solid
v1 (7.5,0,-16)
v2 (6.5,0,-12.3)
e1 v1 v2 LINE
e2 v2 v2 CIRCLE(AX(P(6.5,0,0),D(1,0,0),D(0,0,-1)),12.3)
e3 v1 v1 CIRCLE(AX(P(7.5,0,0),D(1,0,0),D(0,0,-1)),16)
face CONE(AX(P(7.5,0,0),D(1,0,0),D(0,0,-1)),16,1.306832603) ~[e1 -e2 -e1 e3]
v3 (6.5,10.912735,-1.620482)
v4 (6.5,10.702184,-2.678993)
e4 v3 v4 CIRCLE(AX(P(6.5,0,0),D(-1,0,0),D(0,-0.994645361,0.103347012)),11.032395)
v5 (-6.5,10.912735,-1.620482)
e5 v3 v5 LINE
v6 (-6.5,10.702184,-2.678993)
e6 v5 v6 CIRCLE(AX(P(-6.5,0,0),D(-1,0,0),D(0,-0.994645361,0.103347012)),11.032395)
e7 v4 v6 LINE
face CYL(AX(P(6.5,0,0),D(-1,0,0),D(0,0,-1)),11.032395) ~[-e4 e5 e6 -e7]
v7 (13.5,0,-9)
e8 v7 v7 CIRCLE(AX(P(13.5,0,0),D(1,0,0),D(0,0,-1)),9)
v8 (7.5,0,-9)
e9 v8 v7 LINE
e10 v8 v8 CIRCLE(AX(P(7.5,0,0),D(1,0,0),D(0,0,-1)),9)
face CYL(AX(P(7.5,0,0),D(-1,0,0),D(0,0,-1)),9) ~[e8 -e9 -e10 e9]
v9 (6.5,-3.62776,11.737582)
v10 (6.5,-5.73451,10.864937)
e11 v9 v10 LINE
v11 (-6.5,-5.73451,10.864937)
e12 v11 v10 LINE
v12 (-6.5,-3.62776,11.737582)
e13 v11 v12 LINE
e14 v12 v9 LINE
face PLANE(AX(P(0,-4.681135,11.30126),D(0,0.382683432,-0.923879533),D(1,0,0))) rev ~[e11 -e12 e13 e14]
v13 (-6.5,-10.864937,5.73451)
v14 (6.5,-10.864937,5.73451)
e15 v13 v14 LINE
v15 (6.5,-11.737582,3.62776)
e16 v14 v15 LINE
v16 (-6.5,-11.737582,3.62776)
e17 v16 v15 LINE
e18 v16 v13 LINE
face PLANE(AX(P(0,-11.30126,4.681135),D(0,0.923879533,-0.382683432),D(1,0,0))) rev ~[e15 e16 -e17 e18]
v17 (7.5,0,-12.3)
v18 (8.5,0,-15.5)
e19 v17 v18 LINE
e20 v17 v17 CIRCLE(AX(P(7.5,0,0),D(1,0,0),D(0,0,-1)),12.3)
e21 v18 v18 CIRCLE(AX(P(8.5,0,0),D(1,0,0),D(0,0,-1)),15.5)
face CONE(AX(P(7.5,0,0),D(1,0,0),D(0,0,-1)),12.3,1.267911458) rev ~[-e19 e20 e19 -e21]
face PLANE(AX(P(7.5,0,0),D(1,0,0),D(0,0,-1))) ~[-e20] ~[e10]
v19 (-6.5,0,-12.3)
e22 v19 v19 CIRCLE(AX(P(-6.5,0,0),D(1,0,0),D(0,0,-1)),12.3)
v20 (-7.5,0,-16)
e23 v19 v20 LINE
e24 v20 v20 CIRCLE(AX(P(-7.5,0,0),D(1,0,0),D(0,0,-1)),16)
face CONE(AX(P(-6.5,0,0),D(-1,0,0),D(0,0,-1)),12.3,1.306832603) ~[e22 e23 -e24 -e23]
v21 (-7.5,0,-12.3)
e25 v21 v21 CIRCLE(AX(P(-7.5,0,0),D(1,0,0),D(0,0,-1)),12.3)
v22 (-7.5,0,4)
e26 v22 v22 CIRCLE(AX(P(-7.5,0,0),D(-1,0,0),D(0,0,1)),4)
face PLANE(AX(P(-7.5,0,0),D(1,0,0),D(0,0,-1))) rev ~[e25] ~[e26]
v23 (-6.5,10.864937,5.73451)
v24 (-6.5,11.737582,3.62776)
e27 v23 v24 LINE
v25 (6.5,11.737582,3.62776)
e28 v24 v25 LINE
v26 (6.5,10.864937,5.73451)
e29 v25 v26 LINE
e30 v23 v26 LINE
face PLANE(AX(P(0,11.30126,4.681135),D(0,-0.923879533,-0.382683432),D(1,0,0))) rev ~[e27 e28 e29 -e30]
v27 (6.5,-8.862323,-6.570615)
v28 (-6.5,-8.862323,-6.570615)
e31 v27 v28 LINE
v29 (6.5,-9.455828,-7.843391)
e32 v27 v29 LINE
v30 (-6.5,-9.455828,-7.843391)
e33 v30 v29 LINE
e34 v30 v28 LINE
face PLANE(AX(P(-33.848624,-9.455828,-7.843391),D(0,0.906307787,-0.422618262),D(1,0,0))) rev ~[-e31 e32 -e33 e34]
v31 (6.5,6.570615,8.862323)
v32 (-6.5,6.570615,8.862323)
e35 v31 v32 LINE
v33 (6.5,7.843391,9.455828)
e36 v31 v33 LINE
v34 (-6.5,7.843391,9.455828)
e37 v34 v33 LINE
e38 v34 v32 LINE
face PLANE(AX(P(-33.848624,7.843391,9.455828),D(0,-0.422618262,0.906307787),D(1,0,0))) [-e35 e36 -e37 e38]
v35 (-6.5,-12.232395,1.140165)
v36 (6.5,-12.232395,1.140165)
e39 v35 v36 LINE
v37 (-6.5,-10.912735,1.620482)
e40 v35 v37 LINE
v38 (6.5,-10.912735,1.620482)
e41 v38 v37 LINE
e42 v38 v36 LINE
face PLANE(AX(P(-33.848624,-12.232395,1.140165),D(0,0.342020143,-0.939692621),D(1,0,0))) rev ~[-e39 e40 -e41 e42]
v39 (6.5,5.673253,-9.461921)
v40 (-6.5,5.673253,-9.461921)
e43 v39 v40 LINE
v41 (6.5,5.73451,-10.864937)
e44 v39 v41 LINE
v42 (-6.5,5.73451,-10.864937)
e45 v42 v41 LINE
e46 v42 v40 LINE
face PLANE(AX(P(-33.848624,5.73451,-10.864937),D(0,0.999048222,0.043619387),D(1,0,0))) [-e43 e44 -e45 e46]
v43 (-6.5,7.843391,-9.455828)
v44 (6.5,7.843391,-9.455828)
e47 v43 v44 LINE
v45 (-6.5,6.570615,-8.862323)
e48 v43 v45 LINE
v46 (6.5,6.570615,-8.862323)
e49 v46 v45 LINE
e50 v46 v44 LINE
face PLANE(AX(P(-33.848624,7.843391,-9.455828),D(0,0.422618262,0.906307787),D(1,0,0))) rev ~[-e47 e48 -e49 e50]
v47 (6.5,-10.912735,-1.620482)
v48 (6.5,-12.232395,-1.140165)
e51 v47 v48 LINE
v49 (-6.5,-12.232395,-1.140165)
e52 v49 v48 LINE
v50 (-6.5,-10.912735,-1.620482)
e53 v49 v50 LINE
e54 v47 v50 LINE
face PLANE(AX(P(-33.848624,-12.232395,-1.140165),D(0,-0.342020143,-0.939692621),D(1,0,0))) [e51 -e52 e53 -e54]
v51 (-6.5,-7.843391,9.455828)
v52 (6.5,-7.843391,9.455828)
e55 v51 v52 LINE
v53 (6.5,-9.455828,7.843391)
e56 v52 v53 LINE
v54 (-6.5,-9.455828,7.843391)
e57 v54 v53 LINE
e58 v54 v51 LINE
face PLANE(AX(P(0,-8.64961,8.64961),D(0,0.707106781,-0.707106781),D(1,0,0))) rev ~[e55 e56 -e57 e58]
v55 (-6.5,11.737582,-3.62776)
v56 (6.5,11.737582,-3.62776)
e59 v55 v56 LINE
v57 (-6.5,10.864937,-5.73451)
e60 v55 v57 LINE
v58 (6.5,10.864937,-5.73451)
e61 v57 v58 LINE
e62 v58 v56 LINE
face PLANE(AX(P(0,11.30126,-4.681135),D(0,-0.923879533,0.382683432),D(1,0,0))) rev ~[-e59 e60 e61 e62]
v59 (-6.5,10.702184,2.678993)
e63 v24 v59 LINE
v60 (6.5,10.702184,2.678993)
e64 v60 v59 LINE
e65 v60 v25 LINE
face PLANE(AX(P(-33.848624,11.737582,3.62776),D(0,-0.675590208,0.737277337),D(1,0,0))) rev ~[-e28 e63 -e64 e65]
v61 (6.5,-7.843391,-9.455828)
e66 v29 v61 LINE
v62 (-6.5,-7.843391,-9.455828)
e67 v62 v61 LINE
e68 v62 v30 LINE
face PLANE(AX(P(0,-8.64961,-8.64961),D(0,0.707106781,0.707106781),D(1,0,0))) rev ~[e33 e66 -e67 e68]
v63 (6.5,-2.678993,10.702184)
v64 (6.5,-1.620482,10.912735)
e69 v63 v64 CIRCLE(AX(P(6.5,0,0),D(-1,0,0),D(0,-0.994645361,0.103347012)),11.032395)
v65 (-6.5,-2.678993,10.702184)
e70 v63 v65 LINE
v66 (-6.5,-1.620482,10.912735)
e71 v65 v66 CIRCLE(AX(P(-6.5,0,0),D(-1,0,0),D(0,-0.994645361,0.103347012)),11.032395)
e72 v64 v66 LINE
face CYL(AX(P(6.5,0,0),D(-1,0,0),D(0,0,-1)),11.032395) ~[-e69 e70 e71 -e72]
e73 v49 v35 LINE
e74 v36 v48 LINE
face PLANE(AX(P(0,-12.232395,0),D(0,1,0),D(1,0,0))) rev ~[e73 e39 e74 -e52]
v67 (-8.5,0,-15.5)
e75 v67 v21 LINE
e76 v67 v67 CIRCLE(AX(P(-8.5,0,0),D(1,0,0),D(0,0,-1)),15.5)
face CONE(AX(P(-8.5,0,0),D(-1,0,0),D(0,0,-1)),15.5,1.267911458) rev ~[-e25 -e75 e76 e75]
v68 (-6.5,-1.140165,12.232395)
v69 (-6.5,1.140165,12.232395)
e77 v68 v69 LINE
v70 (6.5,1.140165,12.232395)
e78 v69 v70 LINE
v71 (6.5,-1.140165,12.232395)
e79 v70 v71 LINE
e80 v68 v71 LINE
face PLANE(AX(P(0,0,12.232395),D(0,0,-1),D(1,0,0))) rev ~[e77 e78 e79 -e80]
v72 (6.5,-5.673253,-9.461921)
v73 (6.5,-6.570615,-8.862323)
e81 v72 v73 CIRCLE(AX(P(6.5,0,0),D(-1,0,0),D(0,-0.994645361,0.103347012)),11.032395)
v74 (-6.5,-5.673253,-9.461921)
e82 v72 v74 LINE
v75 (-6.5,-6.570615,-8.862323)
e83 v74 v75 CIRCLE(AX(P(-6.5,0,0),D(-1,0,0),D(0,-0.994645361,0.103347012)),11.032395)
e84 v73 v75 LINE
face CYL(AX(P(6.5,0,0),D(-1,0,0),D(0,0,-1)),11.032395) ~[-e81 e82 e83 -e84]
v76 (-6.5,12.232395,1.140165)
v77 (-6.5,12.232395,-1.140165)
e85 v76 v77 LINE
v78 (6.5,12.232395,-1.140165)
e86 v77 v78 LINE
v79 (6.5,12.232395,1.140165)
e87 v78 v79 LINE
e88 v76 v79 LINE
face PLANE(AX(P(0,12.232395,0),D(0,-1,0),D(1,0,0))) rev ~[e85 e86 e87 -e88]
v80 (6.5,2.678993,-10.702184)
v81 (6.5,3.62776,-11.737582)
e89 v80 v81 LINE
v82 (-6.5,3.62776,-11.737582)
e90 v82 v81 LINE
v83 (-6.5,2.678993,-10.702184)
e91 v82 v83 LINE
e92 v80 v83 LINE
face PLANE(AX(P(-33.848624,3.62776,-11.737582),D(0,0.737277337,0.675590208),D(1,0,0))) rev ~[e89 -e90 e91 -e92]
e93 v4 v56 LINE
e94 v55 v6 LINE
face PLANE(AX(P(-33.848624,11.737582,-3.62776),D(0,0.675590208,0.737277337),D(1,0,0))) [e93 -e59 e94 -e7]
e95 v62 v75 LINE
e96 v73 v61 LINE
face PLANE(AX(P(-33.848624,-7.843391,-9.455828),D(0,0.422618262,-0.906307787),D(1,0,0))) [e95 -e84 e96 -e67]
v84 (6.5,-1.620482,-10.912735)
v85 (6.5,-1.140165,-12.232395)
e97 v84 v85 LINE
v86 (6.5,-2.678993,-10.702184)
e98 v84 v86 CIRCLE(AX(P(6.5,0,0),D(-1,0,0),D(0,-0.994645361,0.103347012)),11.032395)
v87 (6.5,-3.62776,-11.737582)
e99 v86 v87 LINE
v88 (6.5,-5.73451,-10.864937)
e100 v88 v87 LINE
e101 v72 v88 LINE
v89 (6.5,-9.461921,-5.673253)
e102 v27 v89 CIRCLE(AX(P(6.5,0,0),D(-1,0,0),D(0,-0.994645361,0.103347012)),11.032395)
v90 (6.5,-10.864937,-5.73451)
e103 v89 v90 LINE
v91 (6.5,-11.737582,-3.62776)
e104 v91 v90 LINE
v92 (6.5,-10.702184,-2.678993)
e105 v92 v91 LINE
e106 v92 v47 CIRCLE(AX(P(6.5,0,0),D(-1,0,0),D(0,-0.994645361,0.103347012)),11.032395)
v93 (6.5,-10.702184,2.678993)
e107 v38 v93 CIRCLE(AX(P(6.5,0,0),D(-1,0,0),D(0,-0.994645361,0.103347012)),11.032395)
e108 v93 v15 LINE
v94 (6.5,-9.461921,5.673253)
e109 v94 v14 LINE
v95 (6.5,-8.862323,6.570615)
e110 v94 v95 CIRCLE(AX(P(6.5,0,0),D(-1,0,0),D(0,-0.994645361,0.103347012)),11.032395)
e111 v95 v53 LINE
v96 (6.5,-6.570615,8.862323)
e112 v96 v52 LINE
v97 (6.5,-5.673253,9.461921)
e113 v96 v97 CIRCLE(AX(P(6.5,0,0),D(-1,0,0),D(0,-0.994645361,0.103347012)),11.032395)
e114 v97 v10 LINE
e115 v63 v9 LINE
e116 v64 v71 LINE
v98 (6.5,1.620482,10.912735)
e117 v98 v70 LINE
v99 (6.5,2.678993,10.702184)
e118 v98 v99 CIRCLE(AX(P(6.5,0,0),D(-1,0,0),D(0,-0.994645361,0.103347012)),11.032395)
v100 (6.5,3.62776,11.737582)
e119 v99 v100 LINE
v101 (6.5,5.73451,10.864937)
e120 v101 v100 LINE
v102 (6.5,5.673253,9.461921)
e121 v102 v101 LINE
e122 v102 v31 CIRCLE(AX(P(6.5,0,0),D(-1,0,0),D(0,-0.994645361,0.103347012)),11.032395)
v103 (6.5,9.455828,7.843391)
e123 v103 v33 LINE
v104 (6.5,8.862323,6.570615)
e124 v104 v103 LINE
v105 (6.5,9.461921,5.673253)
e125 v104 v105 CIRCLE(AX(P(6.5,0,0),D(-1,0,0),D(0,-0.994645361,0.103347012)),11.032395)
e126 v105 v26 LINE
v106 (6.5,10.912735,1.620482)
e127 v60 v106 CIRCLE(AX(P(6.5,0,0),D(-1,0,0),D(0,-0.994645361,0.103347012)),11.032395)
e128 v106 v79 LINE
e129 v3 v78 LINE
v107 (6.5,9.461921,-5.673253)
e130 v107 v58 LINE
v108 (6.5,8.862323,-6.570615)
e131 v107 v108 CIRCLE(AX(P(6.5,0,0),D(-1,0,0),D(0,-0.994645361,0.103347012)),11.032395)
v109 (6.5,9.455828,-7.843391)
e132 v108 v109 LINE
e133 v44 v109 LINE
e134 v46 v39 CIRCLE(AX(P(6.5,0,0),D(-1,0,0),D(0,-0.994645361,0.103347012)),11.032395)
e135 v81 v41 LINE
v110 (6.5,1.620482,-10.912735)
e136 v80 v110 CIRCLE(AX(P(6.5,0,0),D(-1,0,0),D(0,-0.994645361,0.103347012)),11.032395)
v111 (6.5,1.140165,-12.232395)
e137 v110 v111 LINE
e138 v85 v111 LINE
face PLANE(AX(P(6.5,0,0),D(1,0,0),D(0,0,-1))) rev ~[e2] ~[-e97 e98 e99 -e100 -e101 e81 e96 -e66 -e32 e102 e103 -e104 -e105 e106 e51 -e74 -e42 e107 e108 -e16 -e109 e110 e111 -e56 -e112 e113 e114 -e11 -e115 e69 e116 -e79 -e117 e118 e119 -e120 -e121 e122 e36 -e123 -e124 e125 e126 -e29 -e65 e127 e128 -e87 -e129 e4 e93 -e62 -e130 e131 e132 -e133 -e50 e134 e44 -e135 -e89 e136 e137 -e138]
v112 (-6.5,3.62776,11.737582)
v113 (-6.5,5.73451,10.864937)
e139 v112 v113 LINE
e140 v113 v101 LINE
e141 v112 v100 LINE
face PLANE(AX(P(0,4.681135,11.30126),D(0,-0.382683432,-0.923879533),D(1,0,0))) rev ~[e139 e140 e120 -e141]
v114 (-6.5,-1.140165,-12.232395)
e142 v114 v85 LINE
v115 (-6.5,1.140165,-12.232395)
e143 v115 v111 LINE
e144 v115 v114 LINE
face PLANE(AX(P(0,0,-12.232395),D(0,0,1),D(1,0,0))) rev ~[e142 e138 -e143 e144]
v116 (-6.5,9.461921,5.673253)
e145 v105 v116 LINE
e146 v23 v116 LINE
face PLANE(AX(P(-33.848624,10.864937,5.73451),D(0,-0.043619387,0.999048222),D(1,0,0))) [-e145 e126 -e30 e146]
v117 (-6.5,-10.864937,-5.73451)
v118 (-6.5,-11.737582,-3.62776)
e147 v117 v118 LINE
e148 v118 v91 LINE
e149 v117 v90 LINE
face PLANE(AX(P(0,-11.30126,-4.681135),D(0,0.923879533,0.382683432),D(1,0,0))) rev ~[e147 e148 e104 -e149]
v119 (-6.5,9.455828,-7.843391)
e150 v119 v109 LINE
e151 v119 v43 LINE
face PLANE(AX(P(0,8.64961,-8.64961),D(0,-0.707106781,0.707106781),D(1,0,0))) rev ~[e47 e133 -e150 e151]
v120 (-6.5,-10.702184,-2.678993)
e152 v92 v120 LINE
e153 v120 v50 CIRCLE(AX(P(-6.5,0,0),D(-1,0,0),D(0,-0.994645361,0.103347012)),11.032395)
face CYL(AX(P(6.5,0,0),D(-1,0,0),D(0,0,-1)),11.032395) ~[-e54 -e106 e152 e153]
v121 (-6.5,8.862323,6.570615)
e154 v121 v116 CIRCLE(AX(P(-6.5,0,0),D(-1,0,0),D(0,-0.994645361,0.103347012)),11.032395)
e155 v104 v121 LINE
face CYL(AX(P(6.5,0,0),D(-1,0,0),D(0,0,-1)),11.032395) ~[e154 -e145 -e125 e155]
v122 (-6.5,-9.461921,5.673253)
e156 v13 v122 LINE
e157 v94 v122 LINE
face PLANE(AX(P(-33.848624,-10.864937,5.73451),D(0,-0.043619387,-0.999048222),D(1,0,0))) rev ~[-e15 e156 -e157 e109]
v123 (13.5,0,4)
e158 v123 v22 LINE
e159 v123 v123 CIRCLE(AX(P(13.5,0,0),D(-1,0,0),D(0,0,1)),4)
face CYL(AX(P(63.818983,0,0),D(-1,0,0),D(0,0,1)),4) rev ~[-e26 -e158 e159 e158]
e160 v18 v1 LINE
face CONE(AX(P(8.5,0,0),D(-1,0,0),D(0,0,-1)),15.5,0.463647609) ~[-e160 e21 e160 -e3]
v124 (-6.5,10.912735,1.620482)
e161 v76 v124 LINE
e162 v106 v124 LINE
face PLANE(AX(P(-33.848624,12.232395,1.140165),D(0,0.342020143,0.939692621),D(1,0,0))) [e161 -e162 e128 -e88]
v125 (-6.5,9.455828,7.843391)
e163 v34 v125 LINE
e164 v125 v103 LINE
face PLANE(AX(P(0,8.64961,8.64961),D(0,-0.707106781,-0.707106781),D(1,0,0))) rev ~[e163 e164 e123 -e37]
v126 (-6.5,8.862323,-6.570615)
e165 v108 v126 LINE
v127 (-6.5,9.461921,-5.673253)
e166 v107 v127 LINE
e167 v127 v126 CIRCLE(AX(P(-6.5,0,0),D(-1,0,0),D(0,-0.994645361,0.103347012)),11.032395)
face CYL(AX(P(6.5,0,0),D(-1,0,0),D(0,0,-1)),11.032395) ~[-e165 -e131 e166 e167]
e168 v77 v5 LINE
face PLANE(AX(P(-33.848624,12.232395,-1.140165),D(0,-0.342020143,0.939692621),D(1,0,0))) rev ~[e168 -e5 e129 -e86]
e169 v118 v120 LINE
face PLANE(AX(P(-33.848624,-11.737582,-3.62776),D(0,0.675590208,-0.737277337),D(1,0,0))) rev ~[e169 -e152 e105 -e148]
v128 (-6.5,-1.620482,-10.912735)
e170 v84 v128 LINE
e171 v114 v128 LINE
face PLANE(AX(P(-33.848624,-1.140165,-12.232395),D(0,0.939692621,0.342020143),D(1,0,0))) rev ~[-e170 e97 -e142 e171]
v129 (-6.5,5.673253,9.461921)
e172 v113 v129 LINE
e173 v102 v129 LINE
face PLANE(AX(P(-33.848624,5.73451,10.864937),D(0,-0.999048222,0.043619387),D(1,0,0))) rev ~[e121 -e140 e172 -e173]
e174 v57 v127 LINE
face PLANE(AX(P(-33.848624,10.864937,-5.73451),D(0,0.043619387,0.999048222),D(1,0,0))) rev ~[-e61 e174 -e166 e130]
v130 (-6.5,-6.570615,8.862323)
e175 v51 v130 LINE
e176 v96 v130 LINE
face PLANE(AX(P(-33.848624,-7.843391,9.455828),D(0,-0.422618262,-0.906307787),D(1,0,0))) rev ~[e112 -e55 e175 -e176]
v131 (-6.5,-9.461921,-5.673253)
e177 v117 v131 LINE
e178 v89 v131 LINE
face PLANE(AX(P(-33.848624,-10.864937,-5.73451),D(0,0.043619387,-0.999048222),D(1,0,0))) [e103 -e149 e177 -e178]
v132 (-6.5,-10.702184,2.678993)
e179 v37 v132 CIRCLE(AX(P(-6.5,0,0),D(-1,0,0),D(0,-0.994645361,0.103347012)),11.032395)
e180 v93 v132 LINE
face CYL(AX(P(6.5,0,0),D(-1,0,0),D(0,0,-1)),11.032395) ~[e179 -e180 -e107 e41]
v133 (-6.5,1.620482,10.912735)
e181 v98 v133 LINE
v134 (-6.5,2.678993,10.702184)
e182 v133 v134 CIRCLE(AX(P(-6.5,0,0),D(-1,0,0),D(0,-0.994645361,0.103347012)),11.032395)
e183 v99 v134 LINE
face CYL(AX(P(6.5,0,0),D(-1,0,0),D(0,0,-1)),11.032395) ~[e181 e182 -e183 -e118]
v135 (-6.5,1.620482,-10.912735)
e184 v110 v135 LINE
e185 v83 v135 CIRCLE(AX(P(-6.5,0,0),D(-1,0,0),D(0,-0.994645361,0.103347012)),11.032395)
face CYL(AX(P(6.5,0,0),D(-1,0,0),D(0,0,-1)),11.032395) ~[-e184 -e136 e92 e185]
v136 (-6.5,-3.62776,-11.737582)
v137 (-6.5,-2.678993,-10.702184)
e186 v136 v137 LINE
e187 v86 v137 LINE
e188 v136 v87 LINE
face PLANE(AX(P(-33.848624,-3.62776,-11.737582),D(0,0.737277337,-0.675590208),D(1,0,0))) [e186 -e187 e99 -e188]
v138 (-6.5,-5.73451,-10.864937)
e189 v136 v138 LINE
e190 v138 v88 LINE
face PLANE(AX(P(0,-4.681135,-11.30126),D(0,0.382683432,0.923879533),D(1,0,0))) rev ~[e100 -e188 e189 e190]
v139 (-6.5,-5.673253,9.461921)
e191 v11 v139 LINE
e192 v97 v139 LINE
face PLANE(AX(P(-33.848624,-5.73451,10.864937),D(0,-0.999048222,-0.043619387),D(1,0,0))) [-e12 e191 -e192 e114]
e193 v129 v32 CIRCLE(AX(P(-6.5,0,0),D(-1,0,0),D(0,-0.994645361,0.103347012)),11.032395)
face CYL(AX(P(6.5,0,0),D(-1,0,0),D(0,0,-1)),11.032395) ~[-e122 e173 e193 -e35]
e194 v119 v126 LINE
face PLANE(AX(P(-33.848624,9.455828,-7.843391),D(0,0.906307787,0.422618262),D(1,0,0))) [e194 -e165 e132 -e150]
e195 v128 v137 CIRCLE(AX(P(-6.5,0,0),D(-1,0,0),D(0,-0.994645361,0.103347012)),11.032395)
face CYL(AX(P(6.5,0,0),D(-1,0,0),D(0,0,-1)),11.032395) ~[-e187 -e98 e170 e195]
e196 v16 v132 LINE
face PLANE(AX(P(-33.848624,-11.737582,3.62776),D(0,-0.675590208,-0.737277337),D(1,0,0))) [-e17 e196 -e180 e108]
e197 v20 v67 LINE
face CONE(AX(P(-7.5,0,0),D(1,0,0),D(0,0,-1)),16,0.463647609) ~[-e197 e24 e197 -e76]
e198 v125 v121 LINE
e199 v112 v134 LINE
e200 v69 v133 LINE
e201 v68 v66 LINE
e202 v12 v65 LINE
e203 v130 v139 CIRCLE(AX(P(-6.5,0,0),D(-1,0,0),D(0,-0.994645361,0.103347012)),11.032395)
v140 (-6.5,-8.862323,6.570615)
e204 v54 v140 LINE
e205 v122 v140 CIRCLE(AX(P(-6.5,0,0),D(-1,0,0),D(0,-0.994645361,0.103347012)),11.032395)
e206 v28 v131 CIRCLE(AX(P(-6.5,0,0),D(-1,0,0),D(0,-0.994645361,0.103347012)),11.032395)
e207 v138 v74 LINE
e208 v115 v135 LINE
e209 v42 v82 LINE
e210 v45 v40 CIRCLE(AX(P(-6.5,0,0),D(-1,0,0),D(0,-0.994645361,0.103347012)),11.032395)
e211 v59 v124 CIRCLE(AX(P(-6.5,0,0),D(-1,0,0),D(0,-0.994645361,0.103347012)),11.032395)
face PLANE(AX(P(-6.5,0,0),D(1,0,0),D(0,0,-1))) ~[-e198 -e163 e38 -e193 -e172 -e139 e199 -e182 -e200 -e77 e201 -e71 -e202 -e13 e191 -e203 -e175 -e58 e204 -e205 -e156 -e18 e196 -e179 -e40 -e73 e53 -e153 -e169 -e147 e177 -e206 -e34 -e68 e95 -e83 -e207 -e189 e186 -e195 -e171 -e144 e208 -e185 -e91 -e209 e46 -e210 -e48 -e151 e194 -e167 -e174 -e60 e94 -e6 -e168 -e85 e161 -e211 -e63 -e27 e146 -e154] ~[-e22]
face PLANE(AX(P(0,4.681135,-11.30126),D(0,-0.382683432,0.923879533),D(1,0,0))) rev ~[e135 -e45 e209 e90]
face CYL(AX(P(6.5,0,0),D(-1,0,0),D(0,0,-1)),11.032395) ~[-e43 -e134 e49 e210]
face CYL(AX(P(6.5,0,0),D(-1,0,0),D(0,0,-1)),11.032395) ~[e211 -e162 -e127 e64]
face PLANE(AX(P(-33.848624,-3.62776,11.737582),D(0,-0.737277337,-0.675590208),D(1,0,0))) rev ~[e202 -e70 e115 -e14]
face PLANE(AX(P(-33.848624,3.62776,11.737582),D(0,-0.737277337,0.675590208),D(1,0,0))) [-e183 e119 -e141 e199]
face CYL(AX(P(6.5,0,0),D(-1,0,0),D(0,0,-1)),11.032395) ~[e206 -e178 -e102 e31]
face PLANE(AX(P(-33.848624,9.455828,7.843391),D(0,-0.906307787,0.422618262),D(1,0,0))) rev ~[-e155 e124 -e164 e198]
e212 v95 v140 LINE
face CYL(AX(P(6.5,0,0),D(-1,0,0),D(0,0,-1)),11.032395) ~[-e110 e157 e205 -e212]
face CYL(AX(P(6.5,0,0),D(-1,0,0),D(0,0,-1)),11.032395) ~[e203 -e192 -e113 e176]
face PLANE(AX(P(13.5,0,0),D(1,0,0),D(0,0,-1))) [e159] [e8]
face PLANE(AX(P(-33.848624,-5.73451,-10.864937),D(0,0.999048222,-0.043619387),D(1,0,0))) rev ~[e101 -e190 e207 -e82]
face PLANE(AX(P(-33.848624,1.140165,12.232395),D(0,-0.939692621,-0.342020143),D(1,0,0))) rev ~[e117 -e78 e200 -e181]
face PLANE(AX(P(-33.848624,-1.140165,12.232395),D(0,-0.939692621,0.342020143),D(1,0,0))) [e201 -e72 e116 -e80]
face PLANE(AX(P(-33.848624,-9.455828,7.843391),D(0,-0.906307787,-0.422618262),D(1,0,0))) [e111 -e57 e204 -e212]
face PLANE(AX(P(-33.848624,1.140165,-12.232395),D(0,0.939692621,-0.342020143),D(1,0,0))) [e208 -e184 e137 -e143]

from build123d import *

# Parameters (mm, degrees)
SKETCH2_R                = 9
BOSS_EXTRUDE1_DEPTH      = 6
F_6_0_6_DIAMETER_HOLE1_D = 8
RIB1_REACH               = 28.349
SKETCH5_WALL_W           = 67.697248506
SKETCH5_WALL_H           = 2.28033022
RIB1_DRAFT_ANGLE         = 20
RIB2_REACH               = 28.349
SKETCH6_WALL_W           = 67.697248506
SKETCH6_WALL_H           = 2.28033022
RIB2_DRAFT_ANGLE         = 20
RIB3_REACH               = 28.349
SKETCH7_WALL_W           = 67.697248506
SKETCH7_WALL_H           = 2.28033022
RIB3_DRAFT_ANGLE         = 20
RIB4_REACH               = 28.349
SKETCH8_WALL_W           = 67.697248506
SKETCH8_WALL_H           = 2.28033022
RIB4_DRAFT_ANGLE         = 20
RIB5_REACH               = 28.349
SKETCH9_WALL_W           = 67.697248506
SKETCH9_WALL_H           = 2.28033022
RIB5_DRAFT_ANGLE         = 20
RIB6_REACH               = 28.349
SKETCH10_WALL_W          = 67.697248506
SKETCH10_WALL_H          = 2.28033022
RIB6_DRAFT_ANGLE         = 20
RIB7_REACH               = 28.349
SKETCH11_WALL_W          = 67.697248506
SKETCH11_WALL_H          = 2.28033022
RIB7_DRAFT_ANGLE         = 20
RIB8_REACH               = 28.349
SKETCH12_WALL_W          = 67.697248506
SKETCH12_WALL_H          = 2.28033022
RIB8_DRAFT_ANGLE         = 20
RIB9_REACH               = 28.349
SKETCH13_WALL_W          = 67.697248506
SKETCH13_WALL_H          = 2.28033022
RIB9_DRAFT_ANGLE         = 20
RIB10_REACH              = 28.349
SKETCH14_WALL_W          = 67.697248506
SKETCH14_WALL_H          = 2.28033022
RIB10_DRAFT_ANGLE        = 20
RIB11_REACH              = 28.349
SKETCH15_WALL_W          = 67.697248506
SKETCH15_WALL_H          = 2.28033022
RIB11_DRAFT_ANGLE        = 20
RIB12_REACH              = 28.349
SKETCH16_WALL_W          = 67.697248506
SKETCH16_WALL_H          = 2.28033022
RIB12_DRAFT_ANGLE        = 20
RIB13_REACH              = 28.349
SKETCH17_WALL_W          = 67.697248506
SKETCH17_WALL_H          = 2.28033022
RIB13_DRAFT_ANGLE        = 20
RIB14_REACH              = 28.349
SKETCH18_WALL_W          = 67.697248506
SKETCH18_WALL_H          = 2.28033022
RIB14_DRAFT_ANGLE        = 20
RIB15_REACH              = 28.349
SKETCH19_WALL_W          = 67.697248506
SKETCH19_WALL_H          = 2.28033022
RIB15_DRAFT_ANGLE        = 20
RIB16_REACH              = 28.349
SKETCH20_WALL_W          = 67.697248506
SKETCH20_WALL_H          = 2.28033022
RIB16_DRAFT_ANGLE        = 20


with BuildPart() as part:
    # Sketch1 → Revolve1 (revolve)
    with BuildSketch(Plane.XY, mode=Mode.PRIVATE) as revolve1_sk:
        Polygon((-7.5, 12.3), (-7.5, 0), (7.5, 0), (7.5, 12.3), (8.5, 15.5), (7.5, 16), (6.5, 12.3), (6.5, 11.032395447), (-6.5, 11.032395447), (-6.5, 12.3), (-7.5, 16), (-8.5, 15.5), align=None)
    revolve(revolve1_sk.sketch.rotate(Axis((-8.5, 0, 0), (1, 0, 0)), 270), axis=Axis((-8.5, 0, 0), (1, 0, 0)))

    # Sketch2 → Boss-Extrude1 (add)
    with BuildSketch(Plane(origin=(7.5, 0, 0), x_dir=(0, 0, -1), z_dir=(1, 0, 0))):
        Circle(SKETCH2_R)
    extrude(amount=BOSS_EXTRUDE1_DEPTH)

    # Ø6.0 (6) Diameter Hole1 (through all)
    with Locations(Plane(origin=(13.5, 0, 0), x_dir=(0, 0, -1), z_dir=(1, 0, 0))):
        with Locations((0, 0)):
            Hole(F_6_0_6_DIAMETER_HOLE1_D / 2)

    # Sketch5 wall → Rib1 (add, up to next)
    with BuildSketch(Plane(origin=(0, -12.232395447, 0), x_dir=(1, 0, 0), z_dir=(0, 1, 0)), mode=Mode.PRIVATE) as rib1_sk1:
        Rectangle(SKETCH5_WALL_W, SKETCH5_WALL_H)
    rib1_tool1 = extrude(rib1_sk1.sketch, amount=RIB1_REACH, mode=Mode.PRIVATE) - part.part
    add(rib1_tool1.solids().sort_by_distance((0, -12.232395447, 0))[0])

    # Rib1 draft
    rib1_draft_faces = [part.faces().sort_by_distance(p)[0] for p in [
        (0, -11.732395447, -1.14016511),
        (0, -11.732395447, 1.14016511),
    ]]
    draft(rib1_draft_faces, Plane.XZ.offset(12.232395447), RIB1_DRAFT_ANGLE)

    # Sketch6 wall → Rib2 (add, up to next)
    with BuildSketch(Plane.XY.offset(-12.232395447), mode=Mode.PRIVATE) as rib2_sk1:
        Rectangle(SKETCH6_WALL_W, SKETCH6_WALL_H)
    rib2_tool1 = extrude(rib2_sk1.sketch, amount=RIB2_REACH, mode=Mode.PRIVATE) - part.part
    add(rib2_tool1.solids().sort_by_distance((0, 0, -12.232395447))[0])

    # Rib2 draft
    rib2_draft_faces = [part.faces().sort_by_distance(p)[0] for p in [
        (0, 1.14016511, -11.732395447),
        (0, -1.14016511, -11.732395447),
    ]]
    draft(rib2_draft_faces, Plane(origin=(0, 0, -12.232395447), x_dir=(1, 0, 0), z_dir=(0, 0, -1)), RIB2_DRAFT_ANGLE)

    # Sketch7 wall → Rib3 (add, up to next)
    with BuildSketch(Plane.XZ.offset(-12.232395447), mode=Mode.PRIVATE) as rib3_sk1:
        Rectangle(SKETCH7_WALL_W, SKETCH7_WALL_H)
    rib3_tool1 = extrude(rib3_sk1.sketch, amount=RIB3_REACH, mode=Mode.PRIVATE) - part.part
    add(rib3_tool1.solids().sort_by_distance((0, 12.232395447, 0))[0])

    # Rib3 draft
    rib3_draft_faces = [part.faces().sort_by_distance(p)[0] for p in [
        (0, 11.732395447, 1.14016511),
        (0, 11.732395447, -1.14016511),
    ]]
    draft(rib3_draft_faces, Plane(origin=(0, 12.232395447, 0), x_dir=(1, 0, 0), z_dir=(0, 1, 0)), RIB3_DRAFT_ANGLE)

    # Sketch8 wall → Rib4 (add, up to next)
    with BuildSketch(Plane(origin=(0, 0, 12.232395447), x_dir=(1, 0, 0), z_dir=(0, 0, -1)), mode=Mode.PRIVATE) as rib4_sk1:
        Rectangle(SKETCH8_WALL_W, SKETCH8_WALL_H)
    rib4_tool1 = extrude(rib4_sk1.sketch, amount=RIB4_REACH, mode=Mode.PRIVATE) - part.part
    add(rib4_tool1.solids().sort_by_distance((0, 0, 12.232395447))[0])

    # Rib4 draft
    rib4_draft_faces = [part.faces().sort_by_distance(p)[0] for p in [
        (0, -1.14016511, 11.732395447),
        (0, 1.14016511, 11.732395447),
    ]]
    draft(rib4_draft_faces, Plane.XY.offset(12.232395447), RIB4_DRAFT_ANGLE)

    # Sketch9 wall → Rib5 (add, up to next)
    with BuildSketch(Plane(origin=(0, 8.649609771, 8.649609771), x_dir=(1, 0, 0), z_dir=(0, -0.707106781187, -0.707106781187)), mode=Mode.PRIVATE) as rib5_sk1:
        Rectangle(SKETCH9_WALL_W, SKETCH9_WALL_H)
    rib5_tool1 = extrude(rib5_sk1.sketch, amount=RIB5_REACH, mode=Mode.PRIVATE) - part.part
    add(rib5_tool1.solids().sort_by_distance((0, 8.649609771, 8.649609771))[0])

    # Rib5 draft
    rib5_draft_faces = [part.faces().sort_by_distance(p)[0] for p in [
        (0, 7.4898379, 9.102274861),
        (0, 9.102274861, 7.4898379),
    ]]
    draft(rib5_draft_faces, Plane(origin=(0, 8.649609771, 8.649609771), x_dir=(1, 0, 0), z_dir=(0, 0.707106781187, 0.707106781187)), RIB5_DRAFT_ANGLE)

    # Sketch10 wall → Rib6 (add, up to next)
    with BuildSketch(Plane(origin=(0, 11.301259787, 4.681135076), x_dir=(1, 0, 0), z_dir=(0, -0.923879532511, -0.382683432365)), mode=Mode.PRIVATE) as rib6_sk1:
        Rectangle(SKETCH10_WALL_W, SKETCH10_WALL_H)
    rib6_tool1 = extrude(rib6_sk1.sketch, amount=RIB6_REACH, mode=Mode.PRIVATE) - part.part
    add(rib6_tool1.solids().sort_by_distance((0, 11.301259787, 4.681135076))[0])

    # Rib6 draft
    rib6_draft_faces = [part.faces().sort_by_distance(p)[0] for p in [
        (0, 10.402997723, 5.543168569),
        (0, 11.275642318, 3.436418151),
    ]]
    draft(rib6_draft_faces, Plane(origin=(0, 11.301259787, 4.681135076), x_dir=(1, 0, 0), z_dir=(0, 0.923879532511, 0.382683432365)), RIB6_DRAFT_ANGLE)

    # Sketch11 wall → Rib7 (add, up to next)
    with BuildSketch(Plane(origin=(0, 4.681135076, -11.301259787), x_dir=(1, 0, 0), z_dir=(0, -0.382683432365, 0.923879532511)), mode=Mode.PRIVATE) as rib7_sk1:
        Rectangle(SKETCH11_WALL_W, SKETCH11_WALL_H)
    rib7_tool1 = extrude(rib7_sk1.sketch, amount=RIB7_REACH, mode=Mode.PRIVATE) - part.part
    add(rib7_tool1.solids().sort_by_distance((0, 4.681135076, -11.301259787))[0])

    # Rib7 draft
    rib7_draft_faces = [part.faces().sort_by_distance(p)[0] for p in [
        (0, 5.543168569, -10.402997723),
        (0, 3.436418151, -11.275642318),
    ]]
    draft(rib7_draft_faces, Plane(origin=(0, 4.681135076, -11.301259787), x_dir=(1, 0, 0), z_dir=(0, 0.382683432365, -0.923879532511)), RIB7_DRAFT_ANGLE)

    # Sketch12 wall → Rib8 (add, up to next)
    with BuildSketch(Plane(origin=(0, 4.681135076, 11.301259787), x_dir=(1, 0, 0), z_dir=(0, -0.382683432365, -0.923879532511)), mode=Mode.PRIVATE) as rib8_sk1:
        Rectangle(SKETCH12_WALL_W, SKETCH12_WALL_H)
    rib8_tool1 = extrude(rib8_sk1.sketch, amount=RIB8_REACH, mode=Mode.PRIVATE) - part.part
    add(rib8_tool1.solids().sort_by_distance((0, 4.681135076, 11.301259787))[0])

    # Rib8 draft
    rib8_draft_faces = [part.faces().sort_by_distance(p)[0] for p in [
        (0, 3.436418151, 11.275642318),
        (0, 5.543168569, 10.402997723),
    ]]
    draft(rib8_draft_faces, Plane(origin=(0, 4.681135076, 11.301259787), x_dir=(1, 0, 0), z_dir=(0, 0.382683432365, 0.923879532511)), RIB8_DRAFT_ANGLE)

    # Sketch13 wall → Rib9 (add, up to next)
    with BuildSketch(Plane(origin=(0, -8.649609771, 8.649609771), x_dir=(1, 0, 0), z_dir=(0, 0.707106781187, -0.707106781187)), mode=Mode.PRIVATE) as rib9_sk1:
        Rectangle(SKETCH13_WALL_W, SKETCH13_WALL_H)
    rib9_tool1 = extrude(rib9_sk1.sketch, amount=RIB9_REACH, mode=Mode.PRIVATE) - part.part
    add(rib9_tool1.solids().sort_by_distance((0, -8.649609771, 8.649609771))[0])

    # Rib9 draft
    rib9_draft_faces = [part.faces().sort_by_distance(p)[0] for p in [
        (0, -9.102274861, 7.4898379),
        (0, -7.4898379, 9.102274861),
    ]]
    draft(rib9_draft_faces, Plane(origin=(0, -8.649609771, 8.649609771), x_dir=(1, 0, 0), z_dir=(0, -0.707106781187, 0.707106781187)), RIB9_DRAFT_ANGLE)

    # Sketch14 wall → Rib10 (add, up to next)
    with BuildSketch(Plane(origin=(0, 8.649609771, -8.649609771), x_dir=(1, 0, 0), z_dir=(0, -0.707106781187, 0.707106781187)), mode=Mode.PRIVATE) as rib10_sk1:
        Rectangle(SKETCH14_WALL_W, SKETCH14_WALL_H)
    rib10_tool1 = extrude(rib10_sk1.sketch, amount=RIB10_REACH, mode=Mode.PRIVATE) - part.part
    add(rib10_tool1.solids().sort_by_distance((0, 8.649609771, -8.649609771))[0])

    # Rib10 draft
    rib10_draft_faces = [part.faces().sort_by_distance(p)[0] for p in [
        (0, 9.102274861, -7.4898379),
        (0, 7.4898379, -9.102274861),
    ]]
    draft(rib10_draft_faces, Plane(origin=(0, 8.649609771, -8.649609771), x_dir=(1, 0, 0), z_dir=(0, 0.707106781187, -0.707106781187)), RIB10_DRAFT_ANGLE)

    # Sketch15 wall → Rib11 (add, up to next)
    with BuildSketch(Plane(origin=(0, -8.649609771, -8.649609771), x_dir=(1, 0, 0), z_dir=(0, 0.707106781187, 0.707106781187)), mode=Mode.PRIVATE) as rib11_sk1:
        Rectangle(SKETCH15_WALL_W, SKETCH15_WALL_H)
    rib11_tool1 = extrude(rib11_sk1.sketch, amount=RIB11_REACH, mode=Mode.PRIVATE) - part.part
    add(rib11_tool1.solids().sort_by_distance((0, -8.649609771, -8.649609771))[0])

    # Rib11 draft
    rib11_draft_faces = [part.faces().sort_by_distance(p)[0] for p in [
        (0, -7.4898379, -9.102274861),
        (0, -9.102274861, -7.4898379),
    ]]
    draft(rib11_draft_faces, Plane(origin=(0, -8.649609771, -8.649609771), x_dir=(1, 0, 0), z_dir=(0, -0.707106781187, -0.707106781187)), RIB11_DRAFT_ANGLE)

    # Sketch16 wall → Rib12 (add, up to next)
    with BuildSketch(Plane(origin=(0, 11.301259787, -4.681135076), x_dir=(1, 0, 0), z_dir=(0, -0.923879532511, 0.382683432365)), mode=Mode.PRIVATE) as rib12_sk1:
        Rectangle(SKETCH16_WALL_W, SKETCH16_WALL_H)
    rib12_tool1 = extrude(rib12_sk1.sketch, amount=RIB12_REACH, mode=Mode.PRIVATE) - part.part
    add(rib12_tool1.solids().sort_by_distance((0, 11.301259787, -4.681135076))[0])

    # Rib12 draft
    rib12_draft_faces = [part.faces().sort_by_distance(p)[0] for p in [
        (0, 11.275642318, -3.436418151),
        (0, 10.402997723, -5.543168569),
    ]]
    draft(rib12_draft_faces, Plane(origin=(0, 11.301259787, -4.681135076), x_dir=(1, 0, 0), z_dir=(0, 0.923879532511, -0.382683432365)), RIB12_DRAFT_ANGLE)

    # Sketch17 wall → Rib13 (add, up to next)
    with BuildSketch(Plane(origin=(0, -11.301259787, -4.681135076), x_dir=(1, 0, 0), z_dir=(0, 0.923879532511, 0.382683432365)), mode=Mode.PRIVATE) as rib13_sk1:
        Rectangle(SKETCH17_WALL_W, SKETCH17_WALL_H)
    rib13_tool1 = extrude(rib13_sk1.sketch, amount=RIB13_REACH, mode=Mode.PRIVATE) - part.part
    add(rib13_tool1.solids().sort_by_distance((0, -11.301259787, -4.681135076))[0])

    # Rib13 draft
    rib13_draft_faces = [part.faces().sort_by_distance(p)[0] for p in [
        (0, -10.402997723, -5.543168569),
        (0, -11.275642318, -3.436418151),
    ]]
    draft(rib13_draft_faces, Plane(origin=(0, -11.301259787, -4.681135076), x_dir=(1, 0, 0), z_dir=(0, -0.923879532511, -0.382683432365)), RIB13_DRAFT_ANGLE)

    # Sketch18 wall → Rib14 (add, up to next)
    with BuildSketch(Plane(origin=(0, -4.681135076, 11.301259787), x_dir=(1, 0, 0), z_dir=(0, 0.382683432365, -0.923879532511)), mode=Mode.PRIVATE) as rib14_sk1:
        Rectangle(SKETCH18_WALL_W, SKETCH18_WALL_H)
    rib14_tool1 = extrude(rib14_sk1.sketch, amount=RIB14_REACH, mode=Mode.PRIVATE) - part.part
    add(rib14_tool1.solids().sort_by_distance((0, -4.681135076, 11.301259787))[0])

    # Rib14 draft
    rib14_draft_faces = [part.faces().sort_by_distance(p)[0] for p in [
        (0, -5.543168569, 10.402997723),
        (0, -3.436418151, 11.275642318),
    ]]
    draft(rib14_draft_faces, Plane(origin=(0, -4.681135076, 11.301259787), x_dir=(1, 0, 0), z_dir=(0, -0.382683432365, 0.923879532511)), RIB14_DRAFT_ANGLE)

    # Sketch19 wall → Rib15 (add, up to next)
    with BuildSketch(Plane(origin=(0, -4.681135076, -11.301259787), x_dir=(1, 0, 0), z_dir=(0, 0.382683432365, 0.923879532511)), mode=Mode.PRIVATE) as rib15_sk1:
        Rectangle(SKETCH19_WALL_W, SKETCH19_WALL_H)
    rib15_tool1 = extrude(rib15_sk1.sketch, amount=RIB15_REACH, mode=Mode.PRIVATE) - part.part
    add(rib15_tool1.solids().sort_by_distance((0, -4.681135076, -11.301259787))[0])

    # Rib15 draft
    rib15_draft_faces = [part.faces().sort_by_distance(p)[0] for p in [
        (0, -3.436418151, -11.275642318),
        (0, -5.543168569, -10.402997723),
    ]]
    draft(rib15_draft_faces, Plane(origin=(0, -4.681135076, -11.301259787), x_dir=(1, 0, 0), z_dir=(0, -0.382683432365, -0.923879532511)), RIB15_DRAFT_ANGLE)

    # Sketch20 wall → Rib16 (add, up to next)
    with BuildSketch(Plane(origin=(0, -11.301259787, 4.681135076), x_dir=(1, 0, 0), z_dir=(0, 0.923879532511, -0.382683432365)), mode=Mode.PRIVATE) as rib16_sk1:
        Rectangle(SKETCH20_WALL_W, SKETCH20_WALL_H)
    rib16_tool1 = extrude(rib16_sk1.sketch, amount=RIB16_REACH, mode=Mode.PRIVATE) - part.part
    add(rib16_tool1.solids().sort_by_distance((0, -11.301259787, 4.681135076))[0])

    # Rib16 draft
    rib16_draft_faces = [part.faces().sort_by_distance(p)[0] for p in [
        (0, -11.275642318, 3.436418151),
        (0, -10.402997723, 5.543168569),
    ]]
    draft(rib16_draft_faces, Plane(origin=(0, -11.301259787, 4.681135076), x_dir=(1, 0, 0), z_dir=(0, -0.923879532511, 0.382683432365)), RIB16_DRAFT_ANGLE)


solid = part.part
